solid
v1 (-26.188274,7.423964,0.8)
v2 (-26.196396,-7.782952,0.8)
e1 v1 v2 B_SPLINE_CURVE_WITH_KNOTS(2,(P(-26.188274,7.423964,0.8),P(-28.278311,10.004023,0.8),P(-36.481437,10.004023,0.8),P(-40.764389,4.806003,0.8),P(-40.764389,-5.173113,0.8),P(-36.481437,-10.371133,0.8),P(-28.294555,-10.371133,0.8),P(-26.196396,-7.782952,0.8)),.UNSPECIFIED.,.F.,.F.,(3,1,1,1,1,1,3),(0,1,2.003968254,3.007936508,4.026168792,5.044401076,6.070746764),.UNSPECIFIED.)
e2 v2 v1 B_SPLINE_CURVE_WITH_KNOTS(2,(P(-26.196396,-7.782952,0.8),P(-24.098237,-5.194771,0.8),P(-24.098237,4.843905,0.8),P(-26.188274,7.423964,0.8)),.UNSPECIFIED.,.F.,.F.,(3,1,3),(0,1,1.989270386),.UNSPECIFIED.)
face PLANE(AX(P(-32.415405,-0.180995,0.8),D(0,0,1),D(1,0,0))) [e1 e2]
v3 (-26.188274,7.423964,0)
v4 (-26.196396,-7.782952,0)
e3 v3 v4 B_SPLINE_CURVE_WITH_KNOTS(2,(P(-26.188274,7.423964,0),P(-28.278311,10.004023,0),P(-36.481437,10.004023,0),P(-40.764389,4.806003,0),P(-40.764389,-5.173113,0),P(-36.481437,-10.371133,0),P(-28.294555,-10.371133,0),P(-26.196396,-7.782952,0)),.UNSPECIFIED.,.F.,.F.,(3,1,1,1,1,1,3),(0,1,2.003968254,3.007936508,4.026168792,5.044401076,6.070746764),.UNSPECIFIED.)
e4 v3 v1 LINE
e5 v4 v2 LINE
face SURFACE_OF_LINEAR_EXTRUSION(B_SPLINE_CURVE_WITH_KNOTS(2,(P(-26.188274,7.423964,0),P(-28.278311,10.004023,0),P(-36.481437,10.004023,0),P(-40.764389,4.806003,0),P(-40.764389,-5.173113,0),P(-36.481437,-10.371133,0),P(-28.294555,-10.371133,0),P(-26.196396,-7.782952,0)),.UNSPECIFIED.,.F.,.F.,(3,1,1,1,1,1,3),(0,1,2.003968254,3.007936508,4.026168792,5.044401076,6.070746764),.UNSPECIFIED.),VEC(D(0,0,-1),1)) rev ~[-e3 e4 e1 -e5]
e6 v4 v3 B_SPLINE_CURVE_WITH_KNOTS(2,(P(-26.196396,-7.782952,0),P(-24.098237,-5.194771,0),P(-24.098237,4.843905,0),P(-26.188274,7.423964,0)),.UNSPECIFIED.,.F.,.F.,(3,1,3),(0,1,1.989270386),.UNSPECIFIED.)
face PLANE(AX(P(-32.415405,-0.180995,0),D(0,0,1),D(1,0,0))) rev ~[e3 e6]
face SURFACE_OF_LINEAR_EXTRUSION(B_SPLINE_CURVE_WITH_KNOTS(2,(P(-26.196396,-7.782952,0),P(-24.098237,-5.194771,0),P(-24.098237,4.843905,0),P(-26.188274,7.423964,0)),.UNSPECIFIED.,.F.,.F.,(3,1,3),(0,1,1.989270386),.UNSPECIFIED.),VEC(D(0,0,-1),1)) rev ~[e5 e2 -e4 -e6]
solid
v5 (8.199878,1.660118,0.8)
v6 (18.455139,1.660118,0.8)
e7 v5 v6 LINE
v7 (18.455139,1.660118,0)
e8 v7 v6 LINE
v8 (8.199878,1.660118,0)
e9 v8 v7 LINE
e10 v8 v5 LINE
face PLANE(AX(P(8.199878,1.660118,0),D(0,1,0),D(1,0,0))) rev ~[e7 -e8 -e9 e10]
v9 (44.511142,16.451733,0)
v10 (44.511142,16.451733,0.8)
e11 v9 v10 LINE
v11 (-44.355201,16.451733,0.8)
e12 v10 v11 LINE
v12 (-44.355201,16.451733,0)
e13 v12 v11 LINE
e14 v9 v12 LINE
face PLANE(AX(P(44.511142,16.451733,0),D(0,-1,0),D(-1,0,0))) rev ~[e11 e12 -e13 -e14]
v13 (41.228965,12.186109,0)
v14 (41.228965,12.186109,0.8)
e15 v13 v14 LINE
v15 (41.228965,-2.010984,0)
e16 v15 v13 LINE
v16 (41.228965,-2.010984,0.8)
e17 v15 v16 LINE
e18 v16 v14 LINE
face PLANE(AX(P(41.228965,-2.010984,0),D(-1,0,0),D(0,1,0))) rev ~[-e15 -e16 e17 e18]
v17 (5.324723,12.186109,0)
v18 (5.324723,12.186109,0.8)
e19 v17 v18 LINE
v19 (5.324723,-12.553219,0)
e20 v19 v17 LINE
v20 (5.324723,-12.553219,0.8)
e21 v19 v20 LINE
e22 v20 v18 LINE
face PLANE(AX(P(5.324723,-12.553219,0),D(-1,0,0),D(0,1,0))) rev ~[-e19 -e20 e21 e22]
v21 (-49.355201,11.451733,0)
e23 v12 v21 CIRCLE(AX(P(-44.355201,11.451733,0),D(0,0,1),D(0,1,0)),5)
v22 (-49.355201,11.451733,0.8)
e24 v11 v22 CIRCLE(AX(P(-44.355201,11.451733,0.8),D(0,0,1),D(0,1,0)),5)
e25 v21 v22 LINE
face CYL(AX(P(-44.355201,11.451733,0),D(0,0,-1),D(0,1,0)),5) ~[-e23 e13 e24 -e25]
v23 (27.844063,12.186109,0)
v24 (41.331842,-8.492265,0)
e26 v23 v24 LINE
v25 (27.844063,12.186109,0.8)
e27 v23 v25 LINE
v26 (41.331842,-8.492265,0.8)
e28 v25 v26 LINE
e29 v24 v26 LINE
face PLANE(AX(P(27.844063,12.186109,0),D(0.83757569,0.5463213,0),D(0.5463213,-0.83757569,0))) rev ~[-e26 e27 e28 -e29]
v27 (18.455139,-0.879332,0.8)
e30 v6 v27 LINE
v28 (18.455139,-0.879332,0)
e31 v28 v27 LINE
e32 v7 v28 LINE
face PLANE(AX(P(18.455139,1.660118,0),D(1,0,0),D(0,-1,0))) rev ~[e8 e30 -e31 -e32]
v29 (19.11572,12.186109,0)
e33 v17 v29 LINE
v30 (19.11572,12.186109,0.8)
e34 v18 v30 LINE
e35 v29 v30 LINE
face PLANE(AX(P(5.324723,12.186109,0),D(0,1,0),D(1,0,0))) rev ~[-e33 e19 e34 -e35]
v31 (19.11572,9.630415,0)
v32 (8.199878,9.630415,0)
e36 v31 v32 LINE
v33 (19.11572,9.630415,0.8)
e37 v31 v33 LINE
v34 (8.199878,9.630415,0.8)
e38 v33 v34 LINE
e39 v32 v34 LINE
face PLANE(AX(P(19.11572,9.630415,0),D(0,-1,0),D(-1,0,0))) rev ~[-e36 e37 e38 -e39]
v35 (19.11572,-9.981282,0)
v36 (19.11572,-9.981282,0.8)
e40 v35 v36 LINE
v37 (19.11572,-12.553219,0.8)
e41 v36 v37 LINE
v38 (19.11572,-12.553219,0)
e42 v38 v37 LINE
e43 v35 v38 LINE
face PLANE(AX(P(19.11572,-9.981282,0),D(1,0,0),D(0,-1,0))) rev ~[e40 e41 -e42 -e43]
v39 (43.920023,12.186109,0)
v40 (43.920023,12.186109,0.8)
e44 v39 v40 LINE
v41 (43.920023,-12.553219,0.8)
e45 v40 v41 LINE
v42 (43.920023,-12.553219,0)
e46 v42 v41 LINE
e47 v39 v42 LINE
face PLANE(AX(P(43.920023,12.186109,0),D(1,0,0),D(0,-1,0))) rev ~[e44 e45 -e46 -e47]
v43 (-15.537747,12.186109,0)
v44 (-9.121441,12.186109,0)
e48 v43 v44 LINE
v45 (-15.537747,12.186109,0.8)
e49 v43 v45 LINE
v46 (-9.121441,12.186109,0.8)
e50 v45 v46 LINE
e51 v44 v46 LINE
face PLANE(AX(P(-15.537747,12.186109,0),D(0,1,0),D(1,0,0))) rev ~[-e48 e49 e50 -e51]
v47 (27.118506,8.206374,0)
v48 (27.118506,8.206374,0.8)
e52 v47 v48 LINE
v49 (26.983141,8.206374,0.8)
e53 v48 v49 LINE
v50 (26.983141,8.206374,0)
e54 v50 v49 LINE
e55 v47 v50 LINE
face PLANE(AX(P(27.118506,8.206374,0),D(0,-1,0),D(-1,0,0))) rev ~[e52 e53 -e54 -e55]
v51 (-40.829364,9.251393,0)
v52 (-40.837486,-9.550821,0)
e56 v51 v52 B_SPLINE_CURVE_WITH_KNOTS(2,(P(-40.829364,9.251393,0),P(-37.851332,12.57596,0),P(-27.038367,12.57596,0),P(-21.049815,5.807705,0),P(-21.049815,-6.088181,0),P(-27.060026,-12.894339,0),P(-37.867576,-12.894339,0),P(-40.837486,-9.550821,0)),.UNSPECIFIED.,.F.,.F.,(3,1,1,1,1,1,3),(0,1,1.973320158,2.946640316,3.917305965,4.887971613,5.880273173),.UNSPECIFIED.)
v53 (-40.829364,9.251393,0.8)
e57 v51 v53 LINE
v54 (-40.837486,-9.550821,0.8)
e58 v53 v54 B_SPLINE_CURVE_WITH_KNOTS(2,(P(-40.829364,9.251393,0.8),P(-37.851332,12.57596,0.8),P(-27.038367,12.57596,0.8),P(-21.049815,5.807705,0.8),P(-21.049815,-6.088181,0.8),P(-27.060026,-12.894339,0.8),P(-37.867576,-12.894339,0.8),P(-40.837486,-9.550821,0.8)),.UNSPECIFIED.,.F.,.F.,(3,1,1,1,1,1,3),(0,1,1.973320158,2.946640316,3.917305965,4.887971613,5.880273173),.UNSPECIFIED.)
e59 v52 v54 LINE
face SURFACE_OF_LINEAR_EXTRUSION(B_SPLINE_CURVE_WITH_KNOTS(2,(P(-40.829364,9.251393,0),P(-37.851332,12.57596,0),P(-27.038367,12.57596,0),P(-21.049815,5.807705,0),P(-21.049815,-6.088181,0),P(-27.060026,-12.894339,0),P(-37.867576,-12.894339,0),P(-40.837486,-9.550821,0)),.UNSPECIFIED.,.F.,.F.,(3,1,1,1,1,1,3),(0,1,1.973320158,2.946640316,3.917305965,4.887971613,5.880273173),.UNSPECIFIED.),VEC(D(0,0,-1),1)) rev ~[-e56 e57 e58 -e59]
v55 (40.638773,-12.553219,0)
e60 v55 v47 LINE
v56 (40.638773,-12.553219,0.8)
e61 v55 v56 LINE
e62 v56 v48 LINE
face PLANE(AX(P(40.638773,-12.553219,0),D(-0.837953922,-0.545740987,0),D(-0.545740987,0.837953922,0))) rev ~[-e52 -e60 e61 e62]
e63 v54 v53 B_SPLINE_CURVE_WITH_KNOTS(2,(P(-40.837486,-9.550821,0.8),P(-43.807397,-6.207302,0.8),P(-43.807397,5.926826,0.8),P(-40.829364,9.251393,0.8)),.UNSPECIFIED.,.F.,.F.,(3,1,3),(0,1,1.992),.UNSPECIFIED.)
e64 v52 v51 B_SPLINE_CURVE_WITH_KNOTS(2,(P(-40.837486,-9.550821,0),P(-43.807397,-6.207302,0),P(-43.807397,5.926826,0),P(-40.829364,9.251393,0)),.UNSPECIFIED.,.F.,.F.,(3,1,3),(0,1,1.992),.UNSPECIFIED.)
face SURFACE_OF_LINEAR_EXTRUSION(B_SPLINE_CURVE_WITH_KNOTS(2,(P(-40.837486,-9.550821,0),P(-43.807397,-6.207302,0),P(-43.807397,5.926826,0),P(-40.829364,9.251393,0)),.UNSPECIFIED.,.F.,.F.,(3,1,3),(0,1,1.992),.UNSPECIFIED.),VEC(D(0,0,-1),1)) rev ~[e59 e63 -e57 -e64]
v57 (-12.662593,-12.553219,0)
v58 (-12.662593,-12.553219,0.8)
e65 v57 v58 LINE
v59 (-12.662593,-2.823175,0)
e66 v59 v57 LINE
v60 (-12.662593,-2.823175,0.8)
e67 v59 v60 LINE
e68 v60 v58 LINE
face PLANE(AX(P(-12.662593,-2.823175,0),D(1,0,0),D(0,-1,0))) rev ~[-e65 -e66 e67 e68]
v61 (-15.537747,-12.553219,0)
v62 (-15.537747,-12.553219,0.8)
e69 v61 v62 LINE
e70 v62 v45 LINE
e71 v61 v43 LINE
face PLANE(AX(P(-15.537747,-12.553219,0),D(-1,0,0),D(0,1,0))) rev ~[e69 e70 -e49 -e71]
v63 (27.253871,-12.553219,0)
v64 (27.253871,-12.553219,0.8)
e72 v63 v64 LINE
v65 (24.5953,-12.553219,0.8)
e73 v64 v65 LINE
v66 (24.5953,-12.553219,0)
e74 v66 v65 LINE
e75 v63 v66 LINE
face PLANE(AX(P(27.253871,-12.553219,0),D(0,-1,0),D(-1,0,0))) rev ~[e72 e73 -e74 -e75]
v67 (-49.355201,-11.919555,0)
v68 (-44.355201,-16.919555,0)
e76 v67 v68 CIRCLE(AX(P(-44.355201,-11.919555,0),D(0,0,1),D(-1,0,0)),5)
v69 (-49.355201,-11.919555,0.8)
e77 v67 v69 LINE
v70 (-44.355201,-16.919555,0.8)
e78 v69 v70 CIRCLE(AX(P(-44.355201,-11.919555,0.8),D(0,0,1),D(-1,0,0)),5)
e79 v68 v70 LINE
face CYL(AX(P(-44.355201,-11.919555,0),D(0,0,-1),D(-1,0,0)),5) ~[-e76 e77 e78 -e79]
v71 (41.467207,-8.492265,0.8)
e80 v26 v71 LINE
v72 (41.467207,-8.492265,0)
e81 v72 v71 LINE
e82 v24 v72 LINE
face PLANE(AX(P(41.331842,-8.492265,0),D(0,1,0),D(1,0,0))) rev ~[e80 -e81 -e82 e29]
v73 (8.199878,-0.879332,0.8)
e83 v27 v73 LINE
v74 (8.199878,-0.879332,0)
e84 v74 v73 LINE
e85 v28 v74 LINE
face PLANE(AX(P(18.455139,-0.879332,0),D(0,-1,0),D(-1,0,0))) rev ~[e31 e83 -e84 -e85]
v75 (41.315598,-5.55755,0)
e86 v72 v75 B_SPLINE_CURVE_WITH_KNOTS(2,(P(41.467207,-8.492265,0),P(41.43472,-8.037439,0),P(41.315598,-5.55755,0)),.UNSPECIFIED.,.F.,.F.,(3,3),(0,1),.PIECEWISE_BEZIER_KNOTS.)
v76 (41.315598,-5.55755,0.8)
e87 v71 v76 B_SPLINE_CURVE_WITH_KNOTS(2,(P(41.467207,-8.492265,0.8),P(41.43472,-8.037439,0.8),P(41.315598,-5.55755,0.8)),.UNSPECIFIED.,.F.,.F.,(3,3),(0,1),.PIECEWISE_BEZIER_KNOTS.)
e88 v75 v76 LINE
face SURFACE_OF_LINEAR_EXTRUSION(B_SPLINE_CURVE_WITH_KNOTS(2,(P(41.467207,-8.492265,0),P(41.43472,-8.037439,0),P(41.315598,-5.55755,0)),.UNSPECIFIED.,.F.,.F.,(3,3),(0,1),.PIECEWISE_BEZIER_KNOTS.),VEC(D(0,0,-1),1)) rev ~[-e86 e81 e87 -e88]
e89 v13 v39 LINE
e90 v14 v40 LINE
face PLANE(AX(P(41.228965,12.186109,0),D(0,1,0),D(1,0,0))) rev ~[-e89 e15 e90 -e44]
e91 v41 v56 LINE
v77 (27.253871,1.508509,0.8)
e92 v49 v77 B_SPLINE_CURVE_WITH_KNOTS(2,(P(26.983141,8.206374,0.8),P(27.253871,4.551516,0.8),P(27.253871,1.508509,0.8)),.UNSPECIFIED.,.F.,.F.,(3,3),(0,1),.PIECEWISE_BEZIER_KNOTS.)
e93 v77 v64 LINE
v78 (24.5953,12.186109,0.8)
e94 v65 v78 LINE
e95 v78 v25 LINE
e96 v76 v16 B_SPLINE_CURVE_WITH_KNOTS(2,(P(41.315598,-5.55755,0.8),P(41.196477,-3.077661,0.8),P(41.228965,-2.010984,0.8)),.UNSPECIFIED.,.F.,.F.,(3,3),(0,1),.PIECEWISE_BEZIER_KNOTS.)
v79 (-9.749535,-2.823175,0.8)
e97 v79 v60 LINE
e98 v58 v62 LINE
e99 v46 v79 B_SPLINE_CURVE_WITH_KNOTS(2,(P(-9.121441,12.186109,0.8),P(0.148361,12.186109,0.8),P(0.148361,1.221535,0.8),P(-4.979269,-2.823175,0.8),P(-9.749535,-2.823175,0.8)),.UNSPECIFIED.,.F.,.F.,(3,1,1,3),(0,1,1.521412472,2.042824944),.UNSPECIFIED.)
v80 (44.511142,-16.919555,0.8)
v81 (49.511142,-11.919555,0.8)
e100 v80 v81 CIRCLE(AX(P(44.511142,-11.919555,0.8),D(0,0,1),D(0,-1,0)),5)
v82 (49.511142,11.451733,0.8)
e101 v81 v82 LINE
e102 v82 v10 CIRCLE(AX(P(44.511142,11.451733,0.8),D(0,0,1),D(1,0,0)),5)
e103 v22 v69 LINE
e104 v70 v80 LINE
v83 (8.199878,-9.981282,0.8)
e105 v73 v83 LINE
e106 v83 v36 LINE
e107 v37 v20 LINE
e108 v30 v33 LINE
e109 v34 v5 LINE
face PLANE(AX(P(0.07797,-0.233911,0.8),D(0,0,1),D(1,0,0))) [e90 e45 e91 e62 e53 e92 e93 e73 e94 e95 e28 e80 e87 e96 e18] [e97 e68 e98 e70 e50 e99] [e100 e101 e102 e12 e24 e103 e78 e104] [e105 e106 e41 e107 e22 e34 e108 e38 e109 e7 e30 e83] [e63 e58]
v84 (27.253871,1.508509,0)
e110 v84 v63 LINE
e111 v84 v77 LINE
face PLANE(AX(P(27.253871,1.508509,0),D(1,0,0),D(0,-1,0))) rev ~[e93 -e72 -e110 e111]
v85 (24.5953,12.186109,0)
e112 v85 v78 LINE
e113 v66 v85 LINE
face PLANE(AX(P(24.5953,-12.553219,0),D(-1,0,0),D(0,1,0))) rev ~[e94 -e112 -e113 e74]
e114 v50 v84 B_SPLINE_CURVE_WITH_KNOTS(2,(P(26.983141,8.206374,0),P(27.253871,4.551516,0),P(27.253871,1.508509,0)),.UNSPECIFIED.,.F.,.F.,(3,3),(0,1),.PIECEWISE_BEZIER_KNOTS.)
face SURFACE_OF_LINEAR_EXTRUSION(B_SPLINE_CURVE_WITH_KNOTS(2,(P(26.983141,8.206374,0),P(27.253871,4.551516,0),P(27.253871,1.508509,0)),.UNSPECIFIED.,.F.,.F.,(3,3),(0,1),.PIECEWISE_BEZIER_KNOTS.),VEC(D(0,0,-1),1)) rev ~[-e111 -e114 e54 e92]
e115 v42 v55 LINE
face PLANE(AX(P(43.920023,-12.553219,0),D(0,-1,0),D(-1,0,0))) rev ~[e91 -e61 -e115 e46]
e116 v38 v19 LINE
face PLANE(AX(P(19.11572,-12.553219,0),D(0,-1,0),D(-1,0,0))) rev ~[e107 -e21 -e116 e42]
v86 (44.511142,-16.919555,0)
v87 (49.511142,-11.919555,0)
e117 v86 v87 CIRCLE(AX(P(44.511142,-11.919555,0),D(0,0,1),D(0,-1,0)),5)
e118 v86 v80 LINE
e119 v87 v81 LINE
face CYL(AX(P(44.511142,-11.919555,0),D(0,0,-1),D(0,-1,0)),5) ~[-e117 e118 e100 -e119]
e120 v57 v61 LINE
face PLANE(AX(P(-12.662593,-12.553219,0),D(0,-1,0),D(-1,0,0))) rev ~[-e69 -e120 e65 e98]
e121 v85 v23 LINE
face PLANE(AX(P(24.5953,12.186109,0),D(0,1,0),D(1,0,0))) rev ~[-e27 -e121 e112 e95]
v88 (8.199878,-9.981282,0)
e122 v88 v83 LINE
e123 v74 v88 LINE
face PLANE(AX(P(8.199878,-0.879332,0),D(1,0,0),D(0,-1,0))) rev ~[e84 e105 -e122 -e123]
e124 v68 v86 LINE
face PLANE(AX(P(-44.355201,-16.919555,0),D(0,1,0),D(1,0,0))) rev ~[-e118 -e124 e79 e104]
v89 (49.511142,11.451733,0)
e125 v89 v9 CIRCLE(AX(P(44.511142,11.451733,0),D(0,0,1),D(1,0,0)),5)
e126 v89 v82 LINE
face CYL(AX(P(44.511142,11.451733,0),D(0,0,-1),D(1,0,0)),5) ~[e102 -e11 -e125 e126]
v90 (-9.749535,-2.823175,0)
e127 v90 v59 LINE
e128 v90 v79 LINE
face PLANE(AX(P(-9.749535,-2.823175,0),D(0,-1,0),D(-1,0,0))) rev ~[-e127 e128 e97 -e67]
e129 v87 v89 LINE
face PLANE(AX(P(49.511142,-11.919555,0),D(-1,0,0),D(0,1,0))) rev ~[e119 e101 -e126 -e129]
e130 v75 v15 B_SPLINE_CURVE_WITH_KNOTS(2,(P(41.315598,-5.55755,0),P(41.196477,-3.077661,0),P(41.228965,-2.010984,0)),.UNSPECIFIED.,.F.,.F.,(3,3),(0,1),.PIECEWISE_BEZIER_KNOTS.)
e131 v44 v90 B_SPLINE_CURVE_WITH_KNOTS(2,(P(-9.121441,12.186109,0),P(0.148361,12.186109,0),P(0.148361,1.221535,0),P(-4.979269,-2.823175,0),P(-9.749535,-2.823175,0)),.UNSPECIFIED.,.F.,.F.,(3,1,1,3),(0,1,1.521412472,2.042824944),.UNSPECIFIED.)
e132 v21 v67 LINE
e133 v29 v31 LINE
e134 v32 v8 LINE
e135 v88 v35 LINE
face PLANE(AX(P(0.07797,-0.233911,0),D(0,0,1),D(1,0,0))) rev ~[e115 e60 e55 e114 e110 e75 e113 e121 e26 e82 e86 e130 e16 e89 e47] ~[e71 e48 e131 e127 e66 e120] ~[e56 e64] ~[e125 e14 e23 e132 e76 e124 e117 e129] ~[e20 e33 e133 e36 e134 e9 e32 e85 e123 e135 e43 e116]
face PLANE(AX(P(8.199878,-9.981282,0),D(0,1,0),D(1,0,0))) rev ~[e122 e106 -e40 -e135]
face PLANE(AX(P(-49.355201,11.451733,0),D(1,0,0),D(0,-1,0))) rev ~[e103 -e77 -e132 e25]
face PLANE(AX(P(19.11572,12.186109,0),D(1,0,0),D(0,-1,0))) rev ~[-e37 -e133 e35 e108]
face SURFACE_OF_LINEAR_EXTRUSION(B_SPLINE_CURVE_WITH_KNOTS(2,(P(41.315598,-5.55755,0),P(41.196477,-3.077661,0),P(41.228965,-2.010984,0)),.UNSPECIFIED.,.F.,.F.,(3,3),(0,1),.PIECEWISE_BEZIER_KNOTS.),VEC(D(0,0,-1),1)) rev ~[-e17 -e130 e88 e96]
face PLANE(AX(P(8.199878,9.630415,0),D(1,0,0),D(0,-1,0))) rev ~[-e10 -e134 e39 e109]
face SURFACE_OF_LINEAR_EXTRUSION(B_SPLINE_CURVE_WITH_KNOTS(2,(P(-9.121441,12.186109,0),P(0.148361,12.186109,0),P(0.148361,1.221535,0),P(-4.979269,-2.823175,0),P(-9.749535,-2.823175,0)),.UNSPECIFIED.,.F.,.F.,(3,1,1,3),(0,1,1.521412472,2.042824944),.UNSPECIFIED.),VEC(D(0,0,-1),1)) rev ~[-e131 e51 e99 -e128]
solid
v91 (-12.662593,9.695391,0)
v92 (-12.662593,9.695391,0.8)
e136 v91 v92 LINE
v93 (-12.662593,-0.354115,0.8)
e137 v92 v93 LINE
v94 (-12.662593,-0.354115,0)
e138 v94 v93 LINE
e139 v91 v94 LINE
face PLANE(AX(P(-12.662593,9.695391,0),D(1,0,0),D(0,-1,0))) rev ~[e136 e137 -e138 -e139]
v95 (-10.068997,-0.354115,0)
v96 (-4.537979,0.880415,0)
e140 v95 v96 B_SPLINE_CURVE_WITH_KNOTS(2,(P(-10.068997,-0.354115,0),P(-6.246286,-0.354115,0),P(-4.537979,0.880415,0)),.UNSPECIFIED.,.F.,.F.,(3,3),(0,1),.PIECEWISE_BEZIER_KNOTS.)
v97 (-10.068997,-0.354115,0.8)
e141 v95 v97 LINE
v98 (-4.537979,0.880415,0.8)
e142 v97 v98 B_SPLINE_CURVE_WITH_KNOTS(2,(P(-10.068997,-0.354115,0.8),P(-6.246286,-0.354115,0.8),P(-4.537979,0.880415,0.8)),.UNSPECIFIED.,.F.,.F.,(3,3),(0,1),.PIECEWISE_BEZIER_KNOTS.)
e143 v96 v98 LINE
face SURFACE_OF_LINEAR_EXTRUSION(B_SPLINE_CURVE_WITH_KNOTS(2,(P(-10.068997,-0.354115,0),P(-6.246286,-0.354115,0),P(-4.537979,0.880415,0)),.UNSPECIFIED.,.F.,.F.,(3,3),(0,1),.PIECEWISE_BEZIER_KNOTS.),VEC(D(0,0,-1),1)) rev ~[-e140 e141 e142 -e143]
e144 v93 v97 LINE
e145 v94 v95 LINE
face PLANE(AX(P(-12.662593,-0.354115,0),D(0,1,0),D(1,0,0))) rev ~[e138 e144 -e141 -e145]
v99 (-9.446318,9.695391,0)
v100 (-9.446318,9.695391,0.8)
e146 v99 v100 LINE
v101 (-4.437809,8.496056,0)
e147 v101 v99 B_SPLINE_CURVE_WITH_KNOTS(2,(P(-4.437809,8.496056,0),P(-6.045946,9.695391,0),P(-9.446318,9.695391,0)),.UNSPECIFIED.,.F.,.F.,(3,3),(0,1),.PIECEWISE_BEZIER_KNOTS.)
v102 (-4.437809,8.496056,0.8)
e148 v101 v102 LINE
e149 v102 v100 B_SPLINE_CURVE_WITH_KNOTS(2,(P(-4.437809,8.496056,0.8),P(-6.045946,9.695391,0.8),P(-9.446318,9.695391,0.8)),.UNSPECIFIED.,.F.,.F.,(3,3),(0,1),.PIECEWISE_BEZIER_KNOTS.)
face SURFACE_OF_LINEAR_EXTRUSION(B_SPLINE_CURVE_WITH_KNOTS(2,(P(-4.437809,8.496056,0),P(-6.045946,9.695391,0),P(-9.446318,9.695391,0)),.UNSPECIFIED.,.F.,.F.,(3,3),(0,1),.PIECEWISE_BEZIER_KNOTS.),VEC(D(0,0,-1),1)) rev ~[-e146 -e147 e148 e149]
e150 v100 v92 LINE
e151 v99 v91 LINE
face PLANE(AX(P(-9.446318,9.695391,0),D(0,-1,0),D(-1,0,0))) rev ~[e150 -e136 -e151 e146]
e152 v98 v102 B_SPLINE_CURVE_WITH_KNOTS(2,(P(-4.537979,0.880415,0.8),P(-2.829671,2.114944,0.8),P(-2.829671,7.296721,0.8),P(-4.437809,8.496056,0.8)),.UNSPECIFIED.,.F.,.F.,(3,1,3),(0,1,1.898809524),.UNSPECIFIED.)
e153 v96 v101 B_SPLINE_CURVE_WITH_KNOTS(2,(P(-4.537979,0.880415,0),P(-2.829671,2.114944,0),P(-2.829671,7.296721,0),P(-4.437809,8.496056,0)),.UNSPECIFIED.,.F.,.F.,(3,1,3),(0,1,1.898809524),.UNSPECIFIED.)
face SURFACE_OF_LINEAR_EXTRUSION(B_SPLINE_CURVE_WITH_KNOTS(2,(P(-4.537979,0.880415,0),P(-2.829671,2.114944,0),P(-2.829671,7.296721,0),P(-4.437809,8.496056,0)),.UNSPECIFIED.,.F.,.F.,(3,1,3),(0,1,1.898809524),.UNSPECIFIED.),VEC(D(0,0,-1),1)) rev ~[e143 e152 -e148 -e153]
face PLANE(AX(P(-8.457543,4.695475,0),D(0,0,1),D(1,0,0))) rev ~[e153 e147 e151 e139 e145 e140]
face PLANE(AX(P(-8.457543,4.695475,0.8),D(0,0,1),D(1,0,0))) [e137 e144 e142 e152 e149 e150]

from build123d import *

# Parameters (mm, degrees)
F1_DEPTH = 0.8


with BuildPart() as f1:
    # F0 (on Top) → F1 (new body)
    with BuildSketch(Plane.XY):
        with BuildLine():
            Line((44.5111420751, 16.4517331868), (-44.3552014232, 16.4517331868))
            ThreePointArc((-44.3552014232, 16.4517331868), (-47.8907353291, 14.9872670928), (-49.3552014232, 11.4517331868))
            Line((-49.3552014232, 11.4517331868), (-49.3552014232, -11.9195551425))
            ThreePointArc((-49.3552014232, -11.9195551425), (-47.8907353291, -15.4550890485), (-44.3552014232, -16.9195551425))
            Line((-44.3552014232, -16.9195551425), (44.5111420751, -16.9195551425))
            ThreePointArc((44.5111420751, -16.9195551425), (48.046675981, -15.4550890485), (49.5111420751, -11.9195551425))
            Line((49.5111420751, -11.9195551425), (49.5111420751, 11.4517331868))
            ThreePointArc((49.5111420751, 11.4517331868), (48.046675981, 14.9872670928), (44.5111420751, 16.4517331868))
        make_face()
        with BuildLine():
            add(Edge.make_bspline(
                [(-24.0440908965, 9.1918323241), (-21.04981469, 5.8077046043), (-21.04981469, -0.1483601825)],
                knots=[0, 0, 0, 1, 1, 1], degree=2))
            add(Edge.make_bspline(
                [(-21.04981469, -0.1483601825), (-21.04981469, -6.0881811563), (-24.0549201052, -9.4912599913)],
                knots=[0, 0, 0, 1, 1, 1], degree=2))
            add(Edge.make_bspline(
                [(-24.0549201052, -9.4912599913), (-27.0600255204, -12.8943388263), (-32.4042400154, -12.8943388263)],
                knots=[0, 0, 0, 1, 1, 1], degree=2))
            add(Edge.make_bspline(
                [(-32.4042400154, -12.8943388263), (-37.8675758063, -12.8943388263), (-40.8374862931, -9.5508206392)],
                knots=[0, 0, 0, 1, 1, 1], degree=2))
            add(Edge.make_bspline(
                [(-40.8374862931, -9.5508206392), (-43.80739678, -6.207302452), (-43.80739678, -0.1158725564)],
                knots=[0, 0, 0, 1, 1, 1], degree=2))
            add(Edge.make_bspline(
                [(-43.80739678, -0.1158725564), (-43.80739678, 5.9268259), (-40.8293643866, 9.2513929719)],
                knots=[0, 0, 0, 1, 1, 1], degree=2))
            add(Edge.make_bspline(
                [(-40.8293643866, 9.2513929719), (-37.8513319932, 12.5759600439), (-32.3717523893, 12.5759600439)],
                knots=[0, 0, 0, 1, 1, 1], degree=2))
            add(Edge.make_bspline(
                [(-32.3717523893, 12.5759600439), (-27.038367103, 12.5759600439), (-24.0440908965, 9.1918323241)],
                knots=[0, 0, 0, 1, 1, 1], degree=2))
        make_face(mode=Mode.SUBTRACT)
        with BuildLine():
            add(Edge.make_bspline(
                [(-9.1214413034, 12.1861085305), (0.1483613467, 12.1861085305), (0.1483613467, 4.9792701385)],
                knots=[0, 0, 0, 1, 1, 1], degree=2))
            add(Edge.make_bspline(
                [(0.1483613467, 4.9792701385), (0.1483613467, 1.2215347184), (-2.4154538138, -0.8008200069)],
                knots=[0, 0, 0, 1, 1, 1], degree=2))
            add(Edge.make_bspline(
                [(-2.4154538138, -0.8008200069), (-4.9792689743, -2.8231747322), (-9.7495354081, -2.8231747322)],
                knots=[0, 0, 0, 1, 1, 1], degree=2))
            Line((-9.7495354081, -2.8231747322), (-12.6625925493, -2.8231747322))
            Line((-12.6625925493, -2.8231747322), (-12.6625925493, -12.5532187521))
            Line((-12.6625925493, -12.5532187521), (-15.5377474601, -12.5532187521))
            Line((-15.5377474601, -12.5532187521), (-15.5377474601, 12.1861085305))
            Line((-15.5377474601, 12.1861085305), (-9.1214413034, 12.1861085305))
        make_face(mode=Mode.SUBTRACT)
        Polygon((19.1157203905, -9.9812816851), (19.1157203905, -12.5532187521), (5.3247231068, -12.5532187521), (5.3247231068, 12.1861085305), (19.1157203905, 12.1861085305), (19.1157203905, 9.6304152766), (8.1998780176, 9.6304152766), (8.1998780176, 1.6601176709), (18.4551386596, 1.6601176709), (18.4551386596, -0.87933177), (8.1998780176, -0.87933177), (8.1998780176, -9.9812816851), align=None, mode=Mode.SUBTRACT)
        with BuildLine():
            Line((43.9200229254, 12.1861085305), (43.9200229254, -12.5532187521))
            Line((43.9200229254, -12.5532187521), (40.6387726883, -12.5532187521))
            Line((40.6387726883, -12.5532187521), (27.1185056222, 8.2063743321))
            Line((27.1185056222, 8.2063743321), (26.9831405134, 8.2063743321))
            add(Edge.make_bspline(
                [(26.9831405134, 8.2063743321), (27.253870731, 4.5515163947), (27.253870731, 1.5085087491)],
                knots=[0, 0, 0, 1, 1, 1], degree=2))
            Line((27.253870731, 1.5085087491), (27.253870731, -12.5532187521))
            Line((27.253870731, -12.5532187521), (24.5952999944, -12.5532187521))
            Line((24.5952999944, -12.5532187521), (24.5952999944, 12.1861085305))
            Line((24.5952999944, 12.1861085305), (27.8440626054, 12.1861085305))
            Line((27.8440626054, 12.1861085305), (41.3318420453, -8.4922654884))
            Line((41.3318420453, -8.4922654884), (41.4672071541, -8.4922654884))
            add(Edge.make_bspline(
                [(41.4672071541, -8.4922654884), (41.434719528, -8.0374387229), (41.3155982323, -5.5575499298)],
                knots=[0, 0, 0, 1, 1, 1], degree=2))
            add(Edge.make_bspline(
                [(41.3155982323, -5.5575499298), (41.1964769365, -3.0776611368), (41.2289645626, -2.0109840795)],
                knots=[0, 0, 0, 1, 1, 1], degree=2))
            Line((41.2289645626, -2.0109840795), (41.2289645626, 12.1861085305))
            Line((41.2289645626, 12.1861085305), (43.9200229254, 12.1861085305))
        make_face(mode=Mode.SUBTRACT)
    extrude(amount=F1_DEPTH)


with BuildPart() as f1b:
    # F0 (on Top) → F1, piece 2 (new body)
    with BuildSketch(Plane.XY):
        with BuildLine():
            add(Edge.make_bspline(
                [(-38.6229131133, 7.405012888), (-40.7643891344, 4.8060027992), (-40.7643891344, -0.1483601825)],
                knots=[0, 0, 0, 1, 1, 1], degree=2))
            add(Edge.make_bspline(
                [(-40.7643891344, -0.1483601825), (-40.7643891344, -5.1731130208), (-38.6229131133, -7.7721231096)],
                knots=[0, 0, 0, 1, 1, 1], degree=2))
            add(Edge.make_bspline(
                [(-38.6229131133, -7.7721231096), (-36.4814370922, -10.3711331984), (-32.4042400154, -10.3711331984)],
                knots=[0, 0, 0, 1, 1, 1], degree=2))
            add(Edge.make_bspline(
                [(-32.4042400154, -10.3711331984), (-28.2945553125, -10.3711331984), (-26.1963961263, -7.7829523183)],
                knots=[0, 0, 0, 1, 1, 1], degree=2))
            add(Edge.make_bspline(
                [(-26.1963961263, -7.7829523183), (-24.09823694, -5.1947714383), (-24.09823694, -0.1483601825)],
                knots=[0, 0, 0, 1, 1, 1], degree=2))
            add(Edge.make_bspline(
                [(-24.09823694, -0.1483601825), (-24.09823694, 4.8439050297), (-26.1882742197, 7.4239640033)],
                knots=[0, 0, 0, 1, 1, 1], degree=2))
            add(Edge.make_bspline(
                [(-26.1882742197, 7.4239640033), (-28.2783114995, 10.0040229768), (-32.3717523893, 10.0040229768)],
                knots=[0, 0, 0, 1, 1, 1], degree=2))
            add(Edge.make_bspline(
                [(-32.3717523893, 10.0040229768), (-36.4814370922, 10.0040229768), (-38.6229131133, 7.405012888)],
                knots=[0, 0, 0, 1, 1, 1], degree=2))
        make_face()
    extrude(amount=F1_DEPTH)


with BuildPart() as f1c:
    # F0 (on Top) → F1, piece 3 (new body)
    with BuildSketch(Plane.XY):
        with BuildLine():
            Line((-12.6625925493, 9.6953905288), (-12.6625925493, -0.3541151479))
            Line((-12.6625925493, -0.3541151479), (-10.0689970649, -0.3541151479))
            add(Edge.make_bspline(
                [(-10.0689970649, -0.3541151479), (-6.2462863926, -0.3541151479), (-4.5379787197, 0.8804146443)],
                knots=[0, 0, 0, 1, 1, 1], degree=2))
            add(Edge.make_bspline(
                [(-4.5379787197, 0.8804146443), (-2.8296710467, 2.1149444365), (-2.8296710467, 4.8439050297)],
                knots=[0, 0, 0, 1, 1, 1], degree=2))
            add(Edge.make_bspline(
                [(-2.8296710467, 4.8439050297), (-2.8296710467, 7.296720801), (-4.4378085392, 8.4960556649)],
                knots=[0, 0, 0, 1, 1, 1], degree=2))
            add(Edge.make_bspline(
                [(-4.4378085392, 8.4960556649), (-6.0459460316, 9.6953905288), (-9.4463175645, 9.6953905288)],
                knots=[0, 0, 0, 1, 1, 1], degree=2))
            Line((-9.4463175645, 9.6953905288), (-12.6625925493, 9.6953905288))
        make_face()
    extrude(amount=F1_DEPTH)


solid = Compound([f1.part, f1b.part, f1c.part])
